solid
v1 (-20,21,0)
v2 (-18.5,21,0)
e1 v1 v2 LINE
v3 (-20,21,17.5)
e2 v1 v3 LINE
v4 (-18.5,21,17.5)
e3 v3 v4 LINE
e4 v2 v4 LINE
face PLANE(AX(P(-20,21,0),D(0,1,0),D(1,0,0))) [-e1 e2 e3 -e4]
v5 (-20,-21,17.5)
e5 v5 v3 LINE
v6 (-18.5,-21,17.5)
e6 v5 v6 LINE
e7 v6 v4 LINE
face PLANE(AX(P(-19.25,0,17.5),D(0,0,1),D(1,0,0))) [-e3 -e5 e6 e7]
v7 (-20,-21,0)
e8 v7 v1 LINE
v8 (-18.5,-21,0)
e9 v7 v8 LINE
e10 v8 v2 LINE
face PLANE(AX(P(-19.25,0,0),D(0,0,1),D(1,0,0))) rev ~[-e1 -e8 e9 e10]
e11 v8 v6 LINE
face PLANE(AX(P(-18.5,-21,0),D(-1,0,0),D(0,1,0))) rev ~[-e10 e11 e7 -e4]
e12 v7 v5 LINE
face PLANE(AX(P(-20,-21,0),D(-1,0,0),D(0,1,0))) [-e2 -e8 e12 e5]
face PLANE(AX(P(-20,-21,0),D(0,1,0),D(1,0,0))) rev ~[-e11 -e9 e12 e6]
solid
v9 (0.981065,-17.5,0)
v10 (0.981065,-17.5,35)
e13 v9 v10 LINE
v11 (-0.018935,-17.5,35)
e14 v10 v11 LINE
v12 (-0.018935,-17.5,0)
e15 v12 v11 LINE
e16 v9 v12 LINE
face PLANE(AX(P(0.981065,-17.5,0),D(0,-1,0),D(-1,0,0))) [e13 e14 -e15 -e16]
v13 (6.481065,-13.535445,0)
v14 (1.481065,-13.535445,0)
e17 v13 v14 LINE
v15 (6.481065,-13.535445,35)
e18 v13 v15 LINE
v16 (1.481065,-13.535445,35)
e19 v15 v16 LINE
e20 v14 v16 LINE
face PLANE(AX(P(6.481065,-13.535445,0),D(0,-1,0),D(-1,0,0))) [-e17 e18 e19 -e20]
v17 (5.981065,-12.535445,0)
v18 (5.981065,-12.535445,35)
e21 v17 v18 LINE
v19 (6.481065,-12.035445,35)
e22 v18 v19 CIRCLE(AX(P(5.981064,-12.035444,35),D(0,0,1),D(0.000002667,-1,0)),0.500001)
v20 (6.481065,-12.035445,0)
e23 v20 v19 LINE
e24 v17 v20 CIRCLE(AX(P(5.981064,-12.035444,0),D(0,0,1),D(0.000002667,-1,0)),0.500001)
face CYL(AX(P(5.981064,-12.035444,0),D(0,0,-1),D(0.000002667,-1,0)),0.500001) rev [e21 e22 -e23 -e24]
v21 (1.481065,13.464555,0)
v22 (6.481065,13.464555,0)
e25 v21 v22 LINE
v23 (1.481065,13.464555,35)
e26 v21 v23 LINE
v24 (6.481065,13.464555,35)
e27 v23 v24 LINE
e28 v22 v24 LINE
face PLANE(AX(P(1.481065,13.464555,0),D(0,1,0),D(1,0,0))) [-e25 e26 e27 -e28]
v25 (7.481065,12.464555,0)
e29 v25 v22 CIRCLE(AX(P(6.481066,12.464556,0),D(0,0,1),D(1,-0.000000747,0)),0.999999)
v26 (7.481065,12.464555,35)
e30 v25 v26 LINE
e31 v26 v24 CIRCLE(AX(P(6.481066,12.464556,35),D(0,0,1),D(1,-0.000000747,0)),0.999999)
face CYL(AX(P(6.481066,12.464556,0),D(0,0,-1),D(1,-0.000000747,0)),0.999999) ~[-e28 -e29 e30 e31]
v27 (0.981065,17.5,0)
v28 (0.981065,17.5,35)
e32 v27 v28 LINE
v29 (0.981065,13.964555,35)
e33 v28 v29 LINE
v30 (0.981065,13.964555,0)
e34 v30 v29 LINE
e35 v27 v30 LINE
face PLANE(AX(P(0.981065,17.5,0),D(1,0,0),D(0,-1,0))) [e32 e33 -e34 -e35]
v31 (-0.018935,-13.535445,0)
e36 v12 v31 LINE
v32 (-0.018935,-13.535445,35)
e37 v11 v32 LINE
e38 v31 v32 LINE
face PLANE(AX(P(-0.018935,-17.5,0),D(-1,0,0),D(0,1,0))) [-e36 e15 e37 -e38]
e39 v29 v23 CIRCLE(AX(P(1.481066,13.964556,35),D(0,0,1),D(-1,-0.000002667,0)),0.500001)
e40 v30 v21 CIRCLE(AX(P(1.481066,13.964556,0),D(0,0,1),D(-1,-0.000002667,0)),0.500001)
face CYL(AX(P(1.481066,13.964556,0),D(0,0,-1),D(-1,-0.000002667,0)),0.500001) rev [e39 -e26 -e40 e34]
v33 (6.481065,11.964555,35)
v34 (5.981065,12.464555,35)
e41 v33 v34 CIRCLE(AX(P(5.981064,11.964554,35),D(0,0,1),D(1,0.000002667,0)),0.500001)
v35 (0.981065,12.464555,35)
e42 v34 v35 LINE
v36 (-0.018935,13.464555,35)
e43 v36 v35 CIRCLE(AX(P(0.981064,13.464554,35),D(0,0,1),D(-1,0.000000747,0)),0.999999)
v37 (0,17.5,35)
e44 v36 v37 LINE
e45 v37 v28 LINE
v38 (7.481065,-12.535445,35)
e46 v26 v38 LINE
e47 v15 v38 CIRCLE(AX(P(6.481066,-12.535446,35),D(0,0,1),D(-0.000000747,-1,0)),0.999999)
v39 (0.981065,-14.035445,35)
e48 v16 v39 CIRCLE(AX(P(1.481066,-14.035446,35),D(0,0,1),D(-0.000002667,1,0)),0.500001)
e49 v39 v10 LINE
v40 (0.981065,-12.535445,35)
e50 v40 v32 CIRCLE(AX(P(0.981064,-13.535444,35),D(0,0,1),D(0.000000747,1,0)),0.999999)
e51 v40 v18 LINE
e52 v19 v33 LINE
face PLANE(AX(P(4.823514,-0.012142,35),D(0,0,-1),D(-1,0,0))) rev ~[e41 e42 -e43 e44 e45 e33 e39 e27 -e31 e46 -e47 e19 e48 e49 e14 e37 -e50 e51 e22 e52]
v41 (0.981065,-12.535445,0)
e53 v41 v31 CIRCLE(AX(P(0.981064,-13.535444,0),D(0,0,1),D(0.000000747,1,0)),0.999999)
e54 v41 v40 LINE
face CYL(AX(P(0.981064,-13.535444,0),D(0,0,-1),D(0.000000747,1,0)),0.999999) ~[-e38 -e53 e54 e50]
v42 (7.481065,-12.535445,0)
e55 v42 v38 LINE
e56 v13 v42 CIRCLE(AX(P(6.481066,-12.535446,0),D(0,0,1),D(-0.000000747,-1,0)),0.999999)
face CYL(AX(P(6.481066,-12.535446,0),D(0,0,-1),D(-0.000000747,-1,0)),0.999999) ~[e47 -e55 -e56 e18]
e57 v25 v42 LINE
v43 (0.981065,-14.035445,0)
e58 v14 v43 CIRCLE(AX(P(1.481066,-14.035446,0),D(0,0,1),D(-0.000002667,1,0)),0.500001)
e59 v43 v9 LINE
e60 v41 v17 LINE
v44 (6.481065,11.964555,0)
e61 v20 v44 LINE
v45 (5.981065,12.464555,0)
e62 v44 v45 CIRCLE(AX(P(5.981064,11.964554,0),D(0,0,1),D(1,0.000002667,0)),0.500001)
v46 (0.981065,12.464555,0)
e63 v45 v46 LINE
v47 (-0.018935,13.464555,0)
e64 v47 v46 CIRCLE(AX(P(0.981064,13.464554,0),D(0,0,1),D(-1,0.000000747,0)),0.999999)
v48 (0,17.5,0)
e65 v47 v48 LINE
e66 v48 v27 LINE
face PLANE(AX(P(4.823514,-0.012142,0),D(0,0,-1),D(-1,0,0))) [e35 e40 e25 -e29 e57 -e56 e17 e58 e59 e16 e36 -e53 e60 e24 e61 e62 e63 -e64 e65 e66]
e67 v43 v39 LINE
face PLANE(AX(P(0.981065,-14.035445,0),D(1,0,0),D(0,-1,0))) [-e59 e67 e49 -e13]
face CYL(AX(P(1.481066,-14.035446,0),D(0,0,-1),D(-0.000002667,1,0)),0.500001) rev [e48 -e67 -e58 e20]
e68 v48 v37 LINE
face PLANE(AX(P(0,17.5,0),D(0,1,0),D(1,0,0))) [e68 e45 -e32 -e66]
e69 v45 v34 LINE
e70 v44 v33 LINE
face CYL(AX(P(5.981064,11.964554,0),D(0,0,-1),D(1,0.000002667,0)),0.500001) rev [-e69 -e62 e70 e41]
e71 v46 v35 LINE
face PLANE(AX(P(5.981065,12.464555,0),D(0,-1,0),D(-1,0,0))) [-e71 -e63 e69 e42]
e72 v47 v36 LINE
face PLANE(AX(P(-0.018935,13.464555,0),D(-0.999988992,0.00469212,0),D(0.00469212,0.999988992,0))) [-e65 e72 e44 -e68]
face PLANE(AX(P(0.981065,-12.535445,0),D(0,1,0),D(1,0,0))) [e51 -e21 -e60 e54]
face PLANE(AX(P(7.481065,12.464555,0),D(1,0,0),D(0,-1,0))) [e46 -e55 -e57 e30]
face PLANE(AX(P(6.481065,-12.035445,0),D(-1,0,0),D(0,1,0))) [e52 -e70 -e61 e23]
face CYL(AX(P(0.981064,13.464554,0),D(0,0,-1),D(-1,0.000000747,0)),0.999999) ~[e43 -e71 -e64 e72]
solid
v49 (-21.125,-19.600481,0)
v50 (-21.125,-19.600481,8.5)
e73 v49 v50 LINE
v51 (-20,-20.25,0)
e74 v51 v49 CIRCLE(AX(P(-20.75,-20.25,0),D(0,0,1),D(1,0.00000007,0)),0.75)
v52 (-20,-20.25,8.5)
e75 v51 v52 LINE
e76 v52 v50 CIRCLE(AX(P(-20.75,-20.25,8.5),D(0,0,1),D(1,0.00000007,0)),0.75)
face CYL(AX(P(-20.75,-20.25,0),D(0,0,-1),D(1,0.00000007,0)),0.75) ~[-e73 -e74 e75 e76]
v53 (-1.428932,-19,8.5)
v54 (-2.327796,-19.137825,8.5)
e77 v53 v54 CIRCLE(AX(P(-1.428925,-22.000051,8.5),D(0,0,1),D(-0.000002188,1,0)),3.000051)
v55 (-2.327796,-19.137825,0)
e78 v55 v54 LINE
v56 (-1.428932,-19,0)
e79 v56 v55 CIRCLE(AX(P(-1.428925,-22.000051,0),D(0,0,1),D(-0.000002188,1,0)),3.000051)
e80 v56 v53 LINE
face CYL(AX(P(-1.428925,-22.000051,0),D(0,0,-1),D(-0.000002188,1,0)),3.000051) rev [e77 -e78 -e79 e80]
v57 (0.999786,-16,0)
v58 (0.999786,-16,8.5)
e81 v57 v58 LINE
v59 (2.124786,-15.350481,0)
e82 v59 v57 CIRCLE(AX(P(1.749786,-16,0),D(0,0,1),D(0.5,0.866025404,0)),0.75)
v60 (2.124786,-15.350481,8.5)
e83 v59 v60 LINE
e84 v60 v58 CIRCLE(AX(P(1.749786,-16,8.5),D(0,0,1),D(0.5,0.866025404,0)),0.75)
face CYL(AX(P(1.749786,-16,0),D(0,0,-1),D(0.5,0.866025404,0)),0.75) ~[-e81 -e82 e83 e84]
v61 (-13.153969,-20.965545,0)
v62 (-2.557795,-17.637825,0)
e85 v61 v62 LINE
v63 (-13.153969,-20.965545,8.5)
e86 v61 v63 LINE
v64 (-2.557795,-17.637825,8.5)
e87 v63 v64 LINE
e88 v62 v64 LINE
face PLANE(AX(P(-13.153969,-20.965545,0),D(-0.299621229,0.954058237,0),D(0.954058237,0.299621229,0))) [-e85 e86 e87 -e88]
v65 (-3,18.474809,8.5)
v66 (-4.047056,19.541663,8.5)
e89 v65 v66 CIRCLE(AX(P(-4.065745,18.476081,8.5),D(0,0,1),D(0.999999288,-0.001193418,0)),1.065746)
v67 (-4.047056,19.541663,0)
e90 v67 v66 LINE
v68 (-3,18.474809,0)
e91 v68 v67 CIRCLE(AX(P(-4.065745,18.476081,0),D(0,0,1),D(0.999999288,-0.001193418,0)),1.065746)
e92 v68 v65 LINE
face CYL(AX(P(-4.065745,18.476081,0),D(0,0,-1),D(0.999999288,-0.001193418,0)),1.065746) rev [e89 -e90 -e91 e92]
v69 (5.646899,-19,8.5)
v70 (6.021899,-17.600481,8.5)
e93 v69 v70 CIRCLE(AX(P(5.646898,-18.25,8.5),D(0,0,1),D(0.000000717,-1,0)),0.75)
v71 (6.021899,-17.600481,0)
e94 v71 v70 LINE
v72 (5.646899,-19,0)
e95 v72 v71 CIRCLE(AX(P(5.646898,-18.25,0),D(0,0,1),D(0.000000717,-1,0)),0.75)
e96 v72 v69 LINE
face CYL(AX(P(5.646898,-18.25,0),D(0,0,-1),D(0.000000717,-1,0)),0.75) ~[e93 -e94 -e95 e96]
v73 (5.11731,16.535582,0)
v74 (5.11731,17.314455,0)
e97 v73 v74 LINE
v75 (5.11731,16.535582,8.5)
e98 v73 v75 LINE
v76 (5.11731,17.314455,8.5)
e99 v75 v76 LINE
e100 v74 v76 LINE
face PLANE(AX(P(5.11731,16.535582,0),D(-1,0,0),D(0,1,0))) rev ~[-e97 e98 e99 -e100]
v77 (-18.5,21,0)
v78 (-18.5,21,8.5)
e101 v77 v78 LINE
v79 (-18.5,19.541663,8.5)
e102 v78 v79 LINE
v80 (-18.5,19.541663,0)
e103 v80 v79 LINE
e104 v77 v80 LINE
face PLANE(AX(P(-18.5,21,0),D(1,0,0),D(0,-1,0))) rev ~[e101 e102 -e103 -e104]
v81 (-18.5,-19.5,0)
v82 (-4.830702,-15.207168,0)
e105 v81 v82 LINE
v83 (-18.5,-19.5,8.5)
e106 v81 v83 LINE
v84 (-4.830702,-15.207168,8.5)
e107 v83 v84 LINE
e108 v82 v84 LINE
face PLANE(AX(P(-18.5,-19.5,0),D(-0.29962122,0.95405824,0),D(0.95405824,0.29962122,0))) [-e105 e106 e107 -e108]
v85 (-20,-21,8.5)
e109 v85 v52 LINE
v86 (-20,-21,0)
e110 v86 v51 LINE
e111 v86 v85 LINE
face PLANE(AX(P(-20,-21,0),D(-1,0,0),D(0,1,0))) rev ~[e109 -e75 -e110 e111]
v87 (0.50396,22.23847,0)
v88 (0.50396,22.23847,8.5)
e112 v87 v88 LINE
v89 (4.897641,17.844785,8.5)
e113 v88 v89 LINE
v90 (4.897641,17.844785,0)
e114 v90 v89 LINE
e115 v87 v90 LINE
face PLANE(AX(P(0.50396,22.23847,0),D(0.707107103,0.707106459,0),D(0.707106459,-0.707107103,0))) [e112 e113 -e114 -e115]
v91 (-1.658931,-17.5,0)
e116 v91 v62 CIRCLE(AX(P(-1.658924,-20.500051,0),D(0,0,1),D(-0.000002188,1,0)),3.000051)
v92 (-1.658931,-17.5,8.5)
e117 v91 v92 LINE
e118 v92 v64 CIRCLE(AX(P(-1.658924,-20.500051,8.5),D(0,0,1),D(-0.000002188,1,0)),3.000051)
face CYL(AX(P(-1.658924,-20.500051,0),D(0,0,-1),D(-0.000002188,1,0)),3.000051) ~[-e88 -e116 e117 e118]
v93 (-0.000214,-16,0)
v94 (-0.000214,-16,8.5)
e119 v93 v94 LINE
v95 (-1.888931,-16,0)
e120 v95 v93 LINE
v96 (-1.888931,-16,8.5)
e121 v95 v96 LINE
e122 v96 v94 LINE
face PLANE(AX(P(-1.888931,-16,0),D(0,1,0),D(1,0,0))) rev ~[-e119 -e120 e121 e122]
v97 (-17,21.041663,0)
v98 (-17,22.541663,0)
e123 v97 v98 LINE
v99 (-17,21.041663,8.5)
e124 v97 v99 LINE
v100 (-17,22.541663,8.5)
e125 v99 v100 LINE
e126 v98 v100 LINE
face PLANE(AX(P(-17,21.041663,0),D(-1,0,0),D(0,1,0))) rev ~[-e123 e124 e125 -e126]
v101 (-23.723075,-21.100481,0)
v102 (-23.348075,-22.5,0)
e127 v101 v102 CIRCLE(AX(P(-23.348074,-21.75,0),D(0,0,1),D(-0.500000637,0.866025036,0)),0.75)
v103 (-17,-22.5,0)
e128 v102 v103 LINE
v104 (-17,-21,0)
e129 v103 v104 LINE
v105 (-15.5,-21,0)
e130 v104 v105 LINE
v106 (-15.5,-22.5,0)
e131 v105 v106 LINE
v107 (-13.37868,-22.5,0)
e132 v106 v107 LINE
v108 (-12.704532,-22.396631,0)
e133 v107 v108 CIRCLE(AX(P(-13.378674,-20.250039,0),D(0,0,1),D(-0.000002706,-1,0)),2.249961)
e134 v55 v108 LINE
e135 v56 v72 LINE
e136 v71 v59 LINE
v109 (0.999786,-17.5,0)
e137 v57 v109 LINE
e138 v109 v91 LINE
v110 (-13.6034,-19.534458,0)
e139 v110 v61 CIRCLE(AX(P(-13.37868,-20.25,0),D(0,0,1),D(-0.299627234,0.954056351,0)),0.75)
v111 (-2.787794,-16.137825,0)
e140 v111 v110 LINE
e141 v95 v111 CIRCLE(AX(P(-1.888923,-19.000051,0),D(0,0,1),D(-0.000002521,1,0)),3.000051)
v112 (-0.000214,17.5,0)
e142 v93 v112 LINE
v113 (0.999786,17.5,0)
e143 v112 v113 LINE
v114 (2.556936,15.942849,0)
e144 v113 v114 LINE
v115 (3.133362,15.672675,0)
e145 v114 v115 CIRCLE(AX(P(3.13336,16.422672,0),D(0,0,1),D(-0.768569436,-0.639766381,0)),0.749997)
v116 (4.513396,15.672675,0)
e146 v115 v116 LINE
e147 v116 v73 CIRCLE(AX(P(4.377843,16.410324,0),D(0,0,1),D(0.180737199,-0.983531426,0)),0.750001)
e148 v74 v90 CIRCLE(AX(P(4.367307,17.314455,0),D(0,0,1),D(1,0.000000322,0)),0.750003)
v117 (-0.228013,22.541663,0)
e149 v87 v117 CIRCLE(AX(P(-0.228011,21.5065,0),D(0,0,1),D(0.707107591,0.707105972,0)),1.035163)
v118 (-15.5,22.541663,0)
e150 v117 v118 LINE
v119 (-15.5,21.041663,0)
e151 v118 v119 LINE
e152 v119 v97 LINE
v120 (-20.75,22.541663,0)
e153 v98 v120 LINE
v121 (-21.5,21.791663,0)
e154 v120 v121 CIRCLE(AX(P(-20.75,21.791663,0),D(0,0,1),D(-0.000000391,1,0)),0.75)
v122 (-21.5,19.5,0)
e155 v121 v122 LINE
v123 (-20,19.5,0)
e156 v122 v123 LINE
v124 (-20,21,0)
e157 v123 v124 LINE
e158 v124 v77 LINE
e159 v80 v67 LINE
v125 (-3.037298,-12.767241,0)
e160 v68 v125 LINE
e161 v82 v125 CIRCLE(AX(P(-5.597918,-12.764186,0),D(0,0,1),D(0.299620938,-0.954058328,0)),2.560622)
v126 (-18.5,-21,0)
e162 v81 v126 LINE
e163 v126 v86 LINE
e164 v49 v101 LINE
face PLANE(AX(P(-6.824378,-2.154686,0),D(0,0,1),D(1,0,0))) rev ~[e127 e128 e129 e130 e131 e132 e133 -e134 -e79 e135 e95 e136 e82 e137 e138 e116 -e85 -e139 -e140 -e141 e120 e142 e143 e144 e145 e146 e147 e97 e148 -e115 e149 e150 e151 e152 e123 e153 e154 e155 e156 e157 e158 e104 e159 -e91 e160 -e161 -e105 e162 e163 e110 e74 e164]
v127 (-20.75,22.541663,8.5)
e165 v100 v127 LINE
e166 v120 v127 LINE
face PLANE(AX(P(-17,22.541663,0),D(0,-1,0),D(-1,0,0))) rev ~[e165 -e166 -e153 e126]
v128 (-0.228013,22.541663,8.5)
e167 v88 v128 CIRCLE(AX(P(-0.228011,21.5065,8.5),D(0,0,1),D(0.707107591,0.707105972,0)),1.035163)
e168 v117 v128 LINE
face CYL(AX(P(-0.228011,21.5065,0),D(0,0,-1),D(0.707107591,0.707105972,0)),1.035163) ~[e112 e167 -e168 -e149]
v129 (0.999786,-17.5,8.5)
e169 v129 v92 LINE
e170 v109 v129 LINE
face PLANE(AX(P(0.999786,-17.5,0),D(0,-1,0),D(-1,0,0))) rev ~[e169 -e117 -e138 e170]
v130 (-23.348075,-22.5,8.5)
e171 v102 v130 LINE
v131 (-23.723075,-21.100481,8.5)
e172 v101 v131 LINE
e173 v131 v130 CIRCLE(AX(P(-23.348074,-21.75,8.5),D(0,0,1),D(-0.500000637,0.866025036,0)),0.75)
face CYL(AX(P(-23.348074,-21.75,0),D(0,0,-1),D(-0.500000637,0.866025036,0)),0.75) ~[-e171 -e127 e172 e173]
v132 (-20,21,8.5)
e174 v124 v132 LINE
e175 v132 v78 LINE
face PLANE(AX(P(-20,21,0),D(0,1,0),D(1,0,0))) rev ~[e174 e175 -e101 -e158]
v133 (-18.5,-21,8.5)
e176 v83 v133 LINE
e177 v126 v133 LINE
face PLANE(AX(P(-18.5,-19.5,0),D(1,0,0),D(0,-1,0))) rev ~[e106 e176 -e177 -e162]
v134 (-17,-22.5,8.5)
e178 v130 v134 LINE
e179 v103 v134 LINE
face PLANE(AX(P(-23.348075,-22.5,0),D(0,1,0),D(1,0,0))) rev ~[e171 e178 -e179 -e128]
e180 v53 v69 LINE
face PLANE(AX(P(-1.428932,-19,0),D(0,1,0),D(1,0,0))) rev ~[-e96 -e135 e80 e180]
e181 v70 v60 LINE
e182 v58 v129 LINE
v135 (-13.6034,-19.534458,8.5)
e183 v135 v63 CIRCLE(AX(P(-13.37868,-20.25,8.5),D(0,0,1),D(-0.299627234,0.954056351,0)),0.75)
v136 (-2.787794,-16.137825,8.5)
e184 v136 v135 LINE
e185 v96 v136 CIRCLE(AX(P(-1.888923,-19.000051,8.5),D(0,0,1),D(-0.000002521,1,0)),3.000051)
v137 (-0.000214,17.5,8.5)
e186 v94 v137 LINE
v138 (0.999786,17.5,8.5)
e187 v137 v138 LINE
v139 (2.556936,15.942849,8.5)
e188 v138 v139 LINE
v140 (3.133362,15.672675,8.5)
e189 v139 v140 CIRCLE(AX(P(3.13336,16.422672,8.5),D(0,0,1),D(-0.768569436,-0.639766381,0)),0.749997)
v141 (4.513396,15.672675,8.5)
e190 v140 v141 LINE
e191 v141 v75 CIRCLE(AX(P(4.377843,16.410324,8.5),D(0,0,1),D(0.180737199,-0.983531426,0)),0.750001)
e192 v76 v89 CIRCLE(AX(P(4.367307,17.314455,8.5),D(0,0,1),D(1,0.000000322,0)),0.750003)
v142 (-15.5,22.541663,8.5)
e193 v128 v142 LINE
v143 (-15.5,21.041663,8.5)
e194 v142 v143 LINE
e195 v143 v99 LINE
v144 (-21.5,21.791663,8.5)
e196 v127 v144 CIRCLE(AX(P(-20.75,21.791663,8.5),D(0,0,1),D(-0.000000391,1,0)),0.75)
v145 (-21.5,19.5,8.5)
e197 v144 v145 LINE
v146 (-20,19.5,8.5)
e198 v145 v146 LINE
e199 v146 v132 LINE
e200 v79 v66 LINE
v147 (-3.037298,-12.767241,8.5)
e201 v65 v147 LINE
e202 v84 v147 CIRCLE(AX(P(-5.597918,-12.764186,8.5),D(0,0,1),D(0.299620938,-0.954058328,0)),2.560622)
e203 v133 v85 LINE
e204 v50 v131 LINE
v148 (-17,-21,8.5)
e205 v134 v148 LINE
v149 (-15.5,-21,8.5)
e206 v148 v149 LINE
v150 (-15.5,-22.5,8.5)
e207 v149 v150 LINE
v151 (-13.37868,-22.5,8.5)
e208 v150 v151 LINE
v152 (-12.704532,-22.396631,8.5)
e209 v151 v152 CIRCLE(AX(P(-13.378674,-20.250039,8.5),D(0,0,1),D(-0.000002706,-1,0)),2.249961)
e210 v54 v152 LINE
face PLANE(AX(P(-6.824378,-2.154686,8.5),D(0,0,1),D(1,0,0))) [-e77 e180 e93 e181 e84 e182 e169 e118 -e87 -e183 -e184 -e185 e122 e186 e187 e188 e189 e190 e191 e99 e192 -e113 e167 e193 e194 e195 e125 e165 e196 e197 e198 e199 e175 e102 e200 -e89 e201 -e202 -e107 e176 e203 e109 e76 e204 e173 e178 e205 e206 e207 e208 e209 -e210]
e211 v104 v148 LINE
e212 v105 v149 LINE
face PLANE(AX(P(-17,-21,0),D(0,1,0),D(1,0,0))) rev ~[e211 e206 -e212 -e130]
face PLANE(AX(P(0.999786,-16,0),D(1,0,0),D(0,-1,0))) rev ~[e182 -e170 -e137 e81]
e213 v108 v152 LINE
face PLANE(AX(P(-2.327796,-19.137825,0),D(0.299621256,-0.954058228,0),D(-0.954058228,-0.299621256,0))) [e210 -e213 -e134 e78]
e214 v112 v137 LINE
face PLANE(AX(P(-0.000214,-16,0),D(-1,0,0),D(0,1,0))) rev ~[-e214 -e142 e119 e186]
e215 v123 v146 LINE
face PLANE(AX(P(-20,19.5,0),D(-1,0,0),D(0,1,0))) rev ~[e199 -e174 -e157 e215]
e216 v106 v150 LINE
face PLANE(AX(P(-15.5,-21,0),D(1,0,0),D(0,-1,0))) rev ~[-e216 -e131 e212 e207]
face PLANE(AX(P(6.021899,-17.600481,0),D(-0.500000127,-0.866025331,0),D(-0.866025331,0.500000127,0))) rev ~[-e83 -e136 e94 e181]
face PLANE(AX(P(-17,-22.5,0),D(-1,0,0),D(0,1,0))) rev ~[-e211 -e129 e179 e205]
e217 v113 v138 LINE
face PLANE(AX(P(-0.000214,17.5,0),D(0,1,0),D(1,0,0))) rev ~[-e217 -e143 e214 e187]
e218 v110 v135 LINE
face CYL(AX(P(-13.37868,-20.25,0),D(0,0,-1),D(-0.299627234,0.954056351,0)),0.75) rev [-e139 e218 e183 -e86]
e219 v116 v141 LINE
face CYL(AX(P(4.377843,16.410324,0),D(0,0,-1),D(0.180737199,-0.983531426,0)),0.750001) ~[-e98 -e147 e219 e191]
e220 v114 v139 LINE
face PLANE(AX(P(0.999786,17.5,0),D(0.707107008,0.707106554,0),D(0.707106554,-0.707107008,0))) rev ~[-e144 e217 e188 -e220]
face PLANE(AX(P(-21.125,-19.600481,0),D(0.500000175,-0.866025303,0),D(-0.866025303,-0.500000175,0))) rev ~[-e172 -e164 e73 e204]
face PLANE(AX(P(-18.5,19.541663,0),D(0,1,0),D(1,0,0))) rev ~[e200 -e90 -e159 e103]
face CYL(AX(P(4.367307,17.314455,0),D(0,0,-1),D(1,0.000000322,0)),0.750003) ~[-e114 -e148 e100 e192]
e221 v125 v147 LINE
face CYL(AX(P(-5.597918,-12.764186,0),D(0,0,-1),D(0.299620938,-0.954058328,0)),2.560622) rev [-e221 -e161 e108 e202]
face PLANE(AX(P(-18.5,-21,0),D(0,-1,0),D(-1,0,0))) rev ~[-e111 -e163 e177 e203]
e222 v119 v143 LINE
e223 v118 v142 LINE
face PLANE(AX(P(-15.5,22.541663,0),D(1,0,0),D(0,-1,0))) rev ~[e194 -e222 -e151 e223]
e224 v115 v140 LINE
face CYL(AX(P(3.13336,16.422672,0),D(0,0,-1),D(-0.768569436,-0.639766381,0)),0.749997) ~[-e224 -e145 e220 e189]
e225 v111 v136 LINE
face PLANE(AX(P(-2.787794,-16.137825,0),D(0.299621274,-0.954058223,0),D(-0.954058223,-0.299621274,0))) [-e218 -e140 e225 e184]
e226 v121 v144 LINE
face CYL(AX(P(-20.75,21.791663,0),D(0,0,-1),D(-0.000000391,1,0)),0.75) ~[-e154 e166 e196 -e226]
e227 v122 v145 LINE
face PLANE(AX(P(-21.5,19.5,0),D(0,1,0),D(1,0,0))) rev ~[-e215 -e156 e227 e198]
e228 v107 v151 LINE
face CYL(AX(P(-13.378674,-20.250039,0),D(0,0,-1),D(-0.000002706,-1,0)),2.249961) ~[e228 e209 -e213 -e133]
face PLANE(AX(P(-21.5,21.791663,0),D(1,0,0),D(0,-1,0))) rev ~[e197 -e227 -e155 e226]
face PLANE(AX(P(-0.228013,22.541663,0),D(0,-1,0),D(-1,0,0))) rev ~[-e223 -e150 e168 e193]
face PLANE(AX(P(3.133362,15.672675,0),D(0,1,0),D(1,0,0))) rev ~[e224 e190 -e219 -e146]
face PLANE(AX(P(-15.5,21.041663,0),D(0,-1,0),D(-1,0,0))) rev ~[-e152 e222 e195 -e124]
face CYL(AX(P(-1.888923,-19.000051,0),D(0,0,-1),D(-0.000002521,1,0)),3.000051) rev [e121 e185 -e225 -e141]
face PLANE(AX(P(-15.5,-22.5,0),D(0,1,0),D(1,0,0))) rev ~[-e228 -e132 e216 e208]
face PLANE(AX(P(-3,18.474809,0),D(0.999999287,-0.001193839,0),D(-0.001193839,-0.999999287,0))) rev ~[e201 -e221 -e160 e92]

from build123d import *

# Parameters (mm, degrees)
PAD001_DEPTH = 35
PAD_DEPTH    = 8.5
BOX_W        = 1.5
BOX_H        = 42
BOX_DEPTH    = 17.5


with BuildPart() as din_rail:
    # Sketch001 → Pad001 (new body)
    with BuildSketch(Plane(origin=(0, 17.5, 0), x_dir=(1, 0, 0), z_dir=(0, 0, 1))):
        with BuildLine():
            Line((0, 0), (0.981065, 0))
            Line((0.981065, 0), (0.981065, -3.535445))
            ThreePointArc((0.981065, -3.535445), (1.127512, -3.888998), (1.481065, -4.035445))
            Line((1.481065, -4.035445), (6.481065, -4.035445))
            ThreePointArc((7.481065, -5.035445), (7.188172, -4.328338), (6.481065, -4.035445))
            Line((7.481065, -5.035445), (7.481065, -30.035445))
            ThreePointArc((6.481065, -31.035445), (7.188172, -30.742552), (7.481065, -30.035445))
            Line((6.481065, -31.035445), (1.481065, -31.035445))
            ThreePointArc((1.481065, -31.035445), (1.127512, -31.181892), (0.981065, -31.535445))
            Line((0.981065, -31.535445), (0.981065, -35))
            Line((0.981065, -35), (-0.018935, -35))
            Line((-0.018935, -35), (-0.018935, -31.035445))
            ThreePointArc((0.981065, -30.035445), (0.273958, -30.328338), (-0.018935, -31.035445))
            Line((0.981065, -30.035445), (5.981065, -30.035445))
            ThreePointArc((5.981065, -30.035445), (6.334618, -29.888998), (6.481065, -29.535445))
            Line((6.481065, -29.535445), (6.481065, -5.535445))
            ThreePointArc((6.481065, -5.535445), (6.334618, -5.181892), (5.981065, -5.035445))
            Line((5.981065, -5.035445), (0.981065, -5.035445))
            ThreePointArc((-0.018935, -4.035445), (0.273958, -4.742552), (0.981065, -5.035445))
            Line((-0.018935, -4.035445), (0, 0))
        make_face()
    extrude(amount=PAD001_DEPTH)


with BuildPart() as din_bracket_half:
    # Sketch → Pad (new body)
    with BuildSketch(Plane(origin=(-3, 0, 0), x_dir=(1, 0, 0), z_dir=(0, 0, 1))):
        with BuildLine():
            Line((2.771987, 22.541663), (-12.5, 22.541663))
            Line((-12.5, 22.541663), (-12.5, 21.041663))
            Line((-12.5, 21.041663), (-14, 21.041663))
            Line((-14, 21.041663), (-14, 22.541663))
            Line((-14, 22.541663), (-17.75, 22.541663))
            ThreePointArc((-17.75, 22.541663), (-18.28033, 22.321993), (-18.5, 21.791663))
            Line((-18.5, 21.791663), (-18.5, 19.5))
            Line((-18.5, 19.5), (-17, 19.5))
            Line((-17, 19.5), (-17, 21))
            Line((-17, 21), (-15.5, 21))
            Line((-15.5, 21), (-15.5, 19.541663))
            Line((-15.5, 19.541663), (-1.047056, 19.541663))
            ThreePointArc((0, 18.474809), (-0.305125, 19.222587), (-1.047056, 19.541663))
            Line((0, 18.474809), (-0.037298, -12.767241))
            ThreePointArc((-1.830702, -15.207168), (-0.534684, -14.280711), (-0.037298, -12.767241))
            Line((-15.5, -19.5), (-1.830702, -15.207168))
            Line((-15.5, -19.5), (-15.5, -21))
            Line((-15.5, -21), (-17, -21))
            Line((-17, -21), (-17, -20.25))
            ThreePointArc((-17, -20.25), (-17.375, -19.600481), (-18.125, -19.600481))
            Line((-18.125, -19.600481), (-20.723075, -21.100481))
            ThreePointArc((-20.723075, -21.100481), (-21.072519, -21.944114), (-20.348075, -22.5))
            Line((-20.348075, -22.5), (-14, -22.5))
            Line((-14, -22.5), (-14, -21))
            Line((-14, -21), (-12.5, -21))
            Line((-12.5, -21), (-12.5, -22.5))
            Line((-12.5, -22.5), (-10.37868, -22.5))
            ThreePointArc((-10.37868, -22.5), (-10.037666, -22.474008), (-9.704532, -22.396631))
            Line((0.672204, -19.137825), (-9.704532, -22.396631))
            ThreePointArc((1.571068, -19), (1.116383, -19.034657), (0.672204, -19.137825))
            Line((1.571068, -19), (8.646899, -19))
            ThreePointArc((8.646899, -19), (9.371343, -18.444114), (9.021899, -17.600481))
            Line((9.021899, -17.600481), (5.124786, -15.350481))
            ThreePointArc((5.124786, -15.350481), (4.374786, -15.350481), (3.999786, -16))
            Line((3.999786, -16), (3.999786, -17.5))
            Line((3.999786, -17.5), (1.341069, -17.5))
            ThreePointArc((1.341069, -17.5), (0.886384, -17.534657), (0.442205, -17.637825))
            Line((-10.153969, -20.965545), (0.442205, -17.637825))
            ThreePointArc((-10.6034, -19.534458), (-11.094223, -20.474716), (-10.153969, -20.965545))
            Line((0.212206, -16.137825), (-10.6034, -19.534458))
            ThreePointArc((1.111069, -16), (0.656385, -16.034657), (0.212206, -16.137825))
            Line((1.111069, -16), (2.999786, -16))
            Line((2.999786, -16), (2.999786, 17.5))
            Line((2.999786, 17.5), (3.999786, 17.5))
            Line((3.999786, 17.5), (5.556936, 15.942849))
            ThreePointArc((5.556936, 15.942849), (5.815061, 15.743569), (6.133362, 15.672675))
            Line((6.133362, 15.672675), (7.513396, 15.672675))
            ThreePointArc((7.513396, 15.672675), (7.992308, 15.980285), (8.11731, 16.535582))
            Line((8.11731, 16.535582), (8.11731, 17.314455))
            ThreePointArc((8.11731, 17.314455), (8.06022, 17.601467), (7.897641, 17.844785))
            Line((3.50396, 22.23847), (7.897641, 17.844785))
            ThreePointArc((3.50396, 22.23847), (3.168128, 22.462866), (2.771987, 22.541663))
        make_face()
    extrude(amount=PAD_DEPTH)


with BuildPart() as pcb:
    # Box → Box (new body)
    with BuildSketch(Plane(origin=(-20, -21, 0), x_dir=(1, 0, 0), z_dir=(0, 0, 1))):
        with Locations((0.75, 21)):
            Rectangle(BOX_W, BOX_H)
    extrude(amount=BOX_DEPTH)


solid = Compound([din_rail.part, din_bracket_half.part, pcb.part])
